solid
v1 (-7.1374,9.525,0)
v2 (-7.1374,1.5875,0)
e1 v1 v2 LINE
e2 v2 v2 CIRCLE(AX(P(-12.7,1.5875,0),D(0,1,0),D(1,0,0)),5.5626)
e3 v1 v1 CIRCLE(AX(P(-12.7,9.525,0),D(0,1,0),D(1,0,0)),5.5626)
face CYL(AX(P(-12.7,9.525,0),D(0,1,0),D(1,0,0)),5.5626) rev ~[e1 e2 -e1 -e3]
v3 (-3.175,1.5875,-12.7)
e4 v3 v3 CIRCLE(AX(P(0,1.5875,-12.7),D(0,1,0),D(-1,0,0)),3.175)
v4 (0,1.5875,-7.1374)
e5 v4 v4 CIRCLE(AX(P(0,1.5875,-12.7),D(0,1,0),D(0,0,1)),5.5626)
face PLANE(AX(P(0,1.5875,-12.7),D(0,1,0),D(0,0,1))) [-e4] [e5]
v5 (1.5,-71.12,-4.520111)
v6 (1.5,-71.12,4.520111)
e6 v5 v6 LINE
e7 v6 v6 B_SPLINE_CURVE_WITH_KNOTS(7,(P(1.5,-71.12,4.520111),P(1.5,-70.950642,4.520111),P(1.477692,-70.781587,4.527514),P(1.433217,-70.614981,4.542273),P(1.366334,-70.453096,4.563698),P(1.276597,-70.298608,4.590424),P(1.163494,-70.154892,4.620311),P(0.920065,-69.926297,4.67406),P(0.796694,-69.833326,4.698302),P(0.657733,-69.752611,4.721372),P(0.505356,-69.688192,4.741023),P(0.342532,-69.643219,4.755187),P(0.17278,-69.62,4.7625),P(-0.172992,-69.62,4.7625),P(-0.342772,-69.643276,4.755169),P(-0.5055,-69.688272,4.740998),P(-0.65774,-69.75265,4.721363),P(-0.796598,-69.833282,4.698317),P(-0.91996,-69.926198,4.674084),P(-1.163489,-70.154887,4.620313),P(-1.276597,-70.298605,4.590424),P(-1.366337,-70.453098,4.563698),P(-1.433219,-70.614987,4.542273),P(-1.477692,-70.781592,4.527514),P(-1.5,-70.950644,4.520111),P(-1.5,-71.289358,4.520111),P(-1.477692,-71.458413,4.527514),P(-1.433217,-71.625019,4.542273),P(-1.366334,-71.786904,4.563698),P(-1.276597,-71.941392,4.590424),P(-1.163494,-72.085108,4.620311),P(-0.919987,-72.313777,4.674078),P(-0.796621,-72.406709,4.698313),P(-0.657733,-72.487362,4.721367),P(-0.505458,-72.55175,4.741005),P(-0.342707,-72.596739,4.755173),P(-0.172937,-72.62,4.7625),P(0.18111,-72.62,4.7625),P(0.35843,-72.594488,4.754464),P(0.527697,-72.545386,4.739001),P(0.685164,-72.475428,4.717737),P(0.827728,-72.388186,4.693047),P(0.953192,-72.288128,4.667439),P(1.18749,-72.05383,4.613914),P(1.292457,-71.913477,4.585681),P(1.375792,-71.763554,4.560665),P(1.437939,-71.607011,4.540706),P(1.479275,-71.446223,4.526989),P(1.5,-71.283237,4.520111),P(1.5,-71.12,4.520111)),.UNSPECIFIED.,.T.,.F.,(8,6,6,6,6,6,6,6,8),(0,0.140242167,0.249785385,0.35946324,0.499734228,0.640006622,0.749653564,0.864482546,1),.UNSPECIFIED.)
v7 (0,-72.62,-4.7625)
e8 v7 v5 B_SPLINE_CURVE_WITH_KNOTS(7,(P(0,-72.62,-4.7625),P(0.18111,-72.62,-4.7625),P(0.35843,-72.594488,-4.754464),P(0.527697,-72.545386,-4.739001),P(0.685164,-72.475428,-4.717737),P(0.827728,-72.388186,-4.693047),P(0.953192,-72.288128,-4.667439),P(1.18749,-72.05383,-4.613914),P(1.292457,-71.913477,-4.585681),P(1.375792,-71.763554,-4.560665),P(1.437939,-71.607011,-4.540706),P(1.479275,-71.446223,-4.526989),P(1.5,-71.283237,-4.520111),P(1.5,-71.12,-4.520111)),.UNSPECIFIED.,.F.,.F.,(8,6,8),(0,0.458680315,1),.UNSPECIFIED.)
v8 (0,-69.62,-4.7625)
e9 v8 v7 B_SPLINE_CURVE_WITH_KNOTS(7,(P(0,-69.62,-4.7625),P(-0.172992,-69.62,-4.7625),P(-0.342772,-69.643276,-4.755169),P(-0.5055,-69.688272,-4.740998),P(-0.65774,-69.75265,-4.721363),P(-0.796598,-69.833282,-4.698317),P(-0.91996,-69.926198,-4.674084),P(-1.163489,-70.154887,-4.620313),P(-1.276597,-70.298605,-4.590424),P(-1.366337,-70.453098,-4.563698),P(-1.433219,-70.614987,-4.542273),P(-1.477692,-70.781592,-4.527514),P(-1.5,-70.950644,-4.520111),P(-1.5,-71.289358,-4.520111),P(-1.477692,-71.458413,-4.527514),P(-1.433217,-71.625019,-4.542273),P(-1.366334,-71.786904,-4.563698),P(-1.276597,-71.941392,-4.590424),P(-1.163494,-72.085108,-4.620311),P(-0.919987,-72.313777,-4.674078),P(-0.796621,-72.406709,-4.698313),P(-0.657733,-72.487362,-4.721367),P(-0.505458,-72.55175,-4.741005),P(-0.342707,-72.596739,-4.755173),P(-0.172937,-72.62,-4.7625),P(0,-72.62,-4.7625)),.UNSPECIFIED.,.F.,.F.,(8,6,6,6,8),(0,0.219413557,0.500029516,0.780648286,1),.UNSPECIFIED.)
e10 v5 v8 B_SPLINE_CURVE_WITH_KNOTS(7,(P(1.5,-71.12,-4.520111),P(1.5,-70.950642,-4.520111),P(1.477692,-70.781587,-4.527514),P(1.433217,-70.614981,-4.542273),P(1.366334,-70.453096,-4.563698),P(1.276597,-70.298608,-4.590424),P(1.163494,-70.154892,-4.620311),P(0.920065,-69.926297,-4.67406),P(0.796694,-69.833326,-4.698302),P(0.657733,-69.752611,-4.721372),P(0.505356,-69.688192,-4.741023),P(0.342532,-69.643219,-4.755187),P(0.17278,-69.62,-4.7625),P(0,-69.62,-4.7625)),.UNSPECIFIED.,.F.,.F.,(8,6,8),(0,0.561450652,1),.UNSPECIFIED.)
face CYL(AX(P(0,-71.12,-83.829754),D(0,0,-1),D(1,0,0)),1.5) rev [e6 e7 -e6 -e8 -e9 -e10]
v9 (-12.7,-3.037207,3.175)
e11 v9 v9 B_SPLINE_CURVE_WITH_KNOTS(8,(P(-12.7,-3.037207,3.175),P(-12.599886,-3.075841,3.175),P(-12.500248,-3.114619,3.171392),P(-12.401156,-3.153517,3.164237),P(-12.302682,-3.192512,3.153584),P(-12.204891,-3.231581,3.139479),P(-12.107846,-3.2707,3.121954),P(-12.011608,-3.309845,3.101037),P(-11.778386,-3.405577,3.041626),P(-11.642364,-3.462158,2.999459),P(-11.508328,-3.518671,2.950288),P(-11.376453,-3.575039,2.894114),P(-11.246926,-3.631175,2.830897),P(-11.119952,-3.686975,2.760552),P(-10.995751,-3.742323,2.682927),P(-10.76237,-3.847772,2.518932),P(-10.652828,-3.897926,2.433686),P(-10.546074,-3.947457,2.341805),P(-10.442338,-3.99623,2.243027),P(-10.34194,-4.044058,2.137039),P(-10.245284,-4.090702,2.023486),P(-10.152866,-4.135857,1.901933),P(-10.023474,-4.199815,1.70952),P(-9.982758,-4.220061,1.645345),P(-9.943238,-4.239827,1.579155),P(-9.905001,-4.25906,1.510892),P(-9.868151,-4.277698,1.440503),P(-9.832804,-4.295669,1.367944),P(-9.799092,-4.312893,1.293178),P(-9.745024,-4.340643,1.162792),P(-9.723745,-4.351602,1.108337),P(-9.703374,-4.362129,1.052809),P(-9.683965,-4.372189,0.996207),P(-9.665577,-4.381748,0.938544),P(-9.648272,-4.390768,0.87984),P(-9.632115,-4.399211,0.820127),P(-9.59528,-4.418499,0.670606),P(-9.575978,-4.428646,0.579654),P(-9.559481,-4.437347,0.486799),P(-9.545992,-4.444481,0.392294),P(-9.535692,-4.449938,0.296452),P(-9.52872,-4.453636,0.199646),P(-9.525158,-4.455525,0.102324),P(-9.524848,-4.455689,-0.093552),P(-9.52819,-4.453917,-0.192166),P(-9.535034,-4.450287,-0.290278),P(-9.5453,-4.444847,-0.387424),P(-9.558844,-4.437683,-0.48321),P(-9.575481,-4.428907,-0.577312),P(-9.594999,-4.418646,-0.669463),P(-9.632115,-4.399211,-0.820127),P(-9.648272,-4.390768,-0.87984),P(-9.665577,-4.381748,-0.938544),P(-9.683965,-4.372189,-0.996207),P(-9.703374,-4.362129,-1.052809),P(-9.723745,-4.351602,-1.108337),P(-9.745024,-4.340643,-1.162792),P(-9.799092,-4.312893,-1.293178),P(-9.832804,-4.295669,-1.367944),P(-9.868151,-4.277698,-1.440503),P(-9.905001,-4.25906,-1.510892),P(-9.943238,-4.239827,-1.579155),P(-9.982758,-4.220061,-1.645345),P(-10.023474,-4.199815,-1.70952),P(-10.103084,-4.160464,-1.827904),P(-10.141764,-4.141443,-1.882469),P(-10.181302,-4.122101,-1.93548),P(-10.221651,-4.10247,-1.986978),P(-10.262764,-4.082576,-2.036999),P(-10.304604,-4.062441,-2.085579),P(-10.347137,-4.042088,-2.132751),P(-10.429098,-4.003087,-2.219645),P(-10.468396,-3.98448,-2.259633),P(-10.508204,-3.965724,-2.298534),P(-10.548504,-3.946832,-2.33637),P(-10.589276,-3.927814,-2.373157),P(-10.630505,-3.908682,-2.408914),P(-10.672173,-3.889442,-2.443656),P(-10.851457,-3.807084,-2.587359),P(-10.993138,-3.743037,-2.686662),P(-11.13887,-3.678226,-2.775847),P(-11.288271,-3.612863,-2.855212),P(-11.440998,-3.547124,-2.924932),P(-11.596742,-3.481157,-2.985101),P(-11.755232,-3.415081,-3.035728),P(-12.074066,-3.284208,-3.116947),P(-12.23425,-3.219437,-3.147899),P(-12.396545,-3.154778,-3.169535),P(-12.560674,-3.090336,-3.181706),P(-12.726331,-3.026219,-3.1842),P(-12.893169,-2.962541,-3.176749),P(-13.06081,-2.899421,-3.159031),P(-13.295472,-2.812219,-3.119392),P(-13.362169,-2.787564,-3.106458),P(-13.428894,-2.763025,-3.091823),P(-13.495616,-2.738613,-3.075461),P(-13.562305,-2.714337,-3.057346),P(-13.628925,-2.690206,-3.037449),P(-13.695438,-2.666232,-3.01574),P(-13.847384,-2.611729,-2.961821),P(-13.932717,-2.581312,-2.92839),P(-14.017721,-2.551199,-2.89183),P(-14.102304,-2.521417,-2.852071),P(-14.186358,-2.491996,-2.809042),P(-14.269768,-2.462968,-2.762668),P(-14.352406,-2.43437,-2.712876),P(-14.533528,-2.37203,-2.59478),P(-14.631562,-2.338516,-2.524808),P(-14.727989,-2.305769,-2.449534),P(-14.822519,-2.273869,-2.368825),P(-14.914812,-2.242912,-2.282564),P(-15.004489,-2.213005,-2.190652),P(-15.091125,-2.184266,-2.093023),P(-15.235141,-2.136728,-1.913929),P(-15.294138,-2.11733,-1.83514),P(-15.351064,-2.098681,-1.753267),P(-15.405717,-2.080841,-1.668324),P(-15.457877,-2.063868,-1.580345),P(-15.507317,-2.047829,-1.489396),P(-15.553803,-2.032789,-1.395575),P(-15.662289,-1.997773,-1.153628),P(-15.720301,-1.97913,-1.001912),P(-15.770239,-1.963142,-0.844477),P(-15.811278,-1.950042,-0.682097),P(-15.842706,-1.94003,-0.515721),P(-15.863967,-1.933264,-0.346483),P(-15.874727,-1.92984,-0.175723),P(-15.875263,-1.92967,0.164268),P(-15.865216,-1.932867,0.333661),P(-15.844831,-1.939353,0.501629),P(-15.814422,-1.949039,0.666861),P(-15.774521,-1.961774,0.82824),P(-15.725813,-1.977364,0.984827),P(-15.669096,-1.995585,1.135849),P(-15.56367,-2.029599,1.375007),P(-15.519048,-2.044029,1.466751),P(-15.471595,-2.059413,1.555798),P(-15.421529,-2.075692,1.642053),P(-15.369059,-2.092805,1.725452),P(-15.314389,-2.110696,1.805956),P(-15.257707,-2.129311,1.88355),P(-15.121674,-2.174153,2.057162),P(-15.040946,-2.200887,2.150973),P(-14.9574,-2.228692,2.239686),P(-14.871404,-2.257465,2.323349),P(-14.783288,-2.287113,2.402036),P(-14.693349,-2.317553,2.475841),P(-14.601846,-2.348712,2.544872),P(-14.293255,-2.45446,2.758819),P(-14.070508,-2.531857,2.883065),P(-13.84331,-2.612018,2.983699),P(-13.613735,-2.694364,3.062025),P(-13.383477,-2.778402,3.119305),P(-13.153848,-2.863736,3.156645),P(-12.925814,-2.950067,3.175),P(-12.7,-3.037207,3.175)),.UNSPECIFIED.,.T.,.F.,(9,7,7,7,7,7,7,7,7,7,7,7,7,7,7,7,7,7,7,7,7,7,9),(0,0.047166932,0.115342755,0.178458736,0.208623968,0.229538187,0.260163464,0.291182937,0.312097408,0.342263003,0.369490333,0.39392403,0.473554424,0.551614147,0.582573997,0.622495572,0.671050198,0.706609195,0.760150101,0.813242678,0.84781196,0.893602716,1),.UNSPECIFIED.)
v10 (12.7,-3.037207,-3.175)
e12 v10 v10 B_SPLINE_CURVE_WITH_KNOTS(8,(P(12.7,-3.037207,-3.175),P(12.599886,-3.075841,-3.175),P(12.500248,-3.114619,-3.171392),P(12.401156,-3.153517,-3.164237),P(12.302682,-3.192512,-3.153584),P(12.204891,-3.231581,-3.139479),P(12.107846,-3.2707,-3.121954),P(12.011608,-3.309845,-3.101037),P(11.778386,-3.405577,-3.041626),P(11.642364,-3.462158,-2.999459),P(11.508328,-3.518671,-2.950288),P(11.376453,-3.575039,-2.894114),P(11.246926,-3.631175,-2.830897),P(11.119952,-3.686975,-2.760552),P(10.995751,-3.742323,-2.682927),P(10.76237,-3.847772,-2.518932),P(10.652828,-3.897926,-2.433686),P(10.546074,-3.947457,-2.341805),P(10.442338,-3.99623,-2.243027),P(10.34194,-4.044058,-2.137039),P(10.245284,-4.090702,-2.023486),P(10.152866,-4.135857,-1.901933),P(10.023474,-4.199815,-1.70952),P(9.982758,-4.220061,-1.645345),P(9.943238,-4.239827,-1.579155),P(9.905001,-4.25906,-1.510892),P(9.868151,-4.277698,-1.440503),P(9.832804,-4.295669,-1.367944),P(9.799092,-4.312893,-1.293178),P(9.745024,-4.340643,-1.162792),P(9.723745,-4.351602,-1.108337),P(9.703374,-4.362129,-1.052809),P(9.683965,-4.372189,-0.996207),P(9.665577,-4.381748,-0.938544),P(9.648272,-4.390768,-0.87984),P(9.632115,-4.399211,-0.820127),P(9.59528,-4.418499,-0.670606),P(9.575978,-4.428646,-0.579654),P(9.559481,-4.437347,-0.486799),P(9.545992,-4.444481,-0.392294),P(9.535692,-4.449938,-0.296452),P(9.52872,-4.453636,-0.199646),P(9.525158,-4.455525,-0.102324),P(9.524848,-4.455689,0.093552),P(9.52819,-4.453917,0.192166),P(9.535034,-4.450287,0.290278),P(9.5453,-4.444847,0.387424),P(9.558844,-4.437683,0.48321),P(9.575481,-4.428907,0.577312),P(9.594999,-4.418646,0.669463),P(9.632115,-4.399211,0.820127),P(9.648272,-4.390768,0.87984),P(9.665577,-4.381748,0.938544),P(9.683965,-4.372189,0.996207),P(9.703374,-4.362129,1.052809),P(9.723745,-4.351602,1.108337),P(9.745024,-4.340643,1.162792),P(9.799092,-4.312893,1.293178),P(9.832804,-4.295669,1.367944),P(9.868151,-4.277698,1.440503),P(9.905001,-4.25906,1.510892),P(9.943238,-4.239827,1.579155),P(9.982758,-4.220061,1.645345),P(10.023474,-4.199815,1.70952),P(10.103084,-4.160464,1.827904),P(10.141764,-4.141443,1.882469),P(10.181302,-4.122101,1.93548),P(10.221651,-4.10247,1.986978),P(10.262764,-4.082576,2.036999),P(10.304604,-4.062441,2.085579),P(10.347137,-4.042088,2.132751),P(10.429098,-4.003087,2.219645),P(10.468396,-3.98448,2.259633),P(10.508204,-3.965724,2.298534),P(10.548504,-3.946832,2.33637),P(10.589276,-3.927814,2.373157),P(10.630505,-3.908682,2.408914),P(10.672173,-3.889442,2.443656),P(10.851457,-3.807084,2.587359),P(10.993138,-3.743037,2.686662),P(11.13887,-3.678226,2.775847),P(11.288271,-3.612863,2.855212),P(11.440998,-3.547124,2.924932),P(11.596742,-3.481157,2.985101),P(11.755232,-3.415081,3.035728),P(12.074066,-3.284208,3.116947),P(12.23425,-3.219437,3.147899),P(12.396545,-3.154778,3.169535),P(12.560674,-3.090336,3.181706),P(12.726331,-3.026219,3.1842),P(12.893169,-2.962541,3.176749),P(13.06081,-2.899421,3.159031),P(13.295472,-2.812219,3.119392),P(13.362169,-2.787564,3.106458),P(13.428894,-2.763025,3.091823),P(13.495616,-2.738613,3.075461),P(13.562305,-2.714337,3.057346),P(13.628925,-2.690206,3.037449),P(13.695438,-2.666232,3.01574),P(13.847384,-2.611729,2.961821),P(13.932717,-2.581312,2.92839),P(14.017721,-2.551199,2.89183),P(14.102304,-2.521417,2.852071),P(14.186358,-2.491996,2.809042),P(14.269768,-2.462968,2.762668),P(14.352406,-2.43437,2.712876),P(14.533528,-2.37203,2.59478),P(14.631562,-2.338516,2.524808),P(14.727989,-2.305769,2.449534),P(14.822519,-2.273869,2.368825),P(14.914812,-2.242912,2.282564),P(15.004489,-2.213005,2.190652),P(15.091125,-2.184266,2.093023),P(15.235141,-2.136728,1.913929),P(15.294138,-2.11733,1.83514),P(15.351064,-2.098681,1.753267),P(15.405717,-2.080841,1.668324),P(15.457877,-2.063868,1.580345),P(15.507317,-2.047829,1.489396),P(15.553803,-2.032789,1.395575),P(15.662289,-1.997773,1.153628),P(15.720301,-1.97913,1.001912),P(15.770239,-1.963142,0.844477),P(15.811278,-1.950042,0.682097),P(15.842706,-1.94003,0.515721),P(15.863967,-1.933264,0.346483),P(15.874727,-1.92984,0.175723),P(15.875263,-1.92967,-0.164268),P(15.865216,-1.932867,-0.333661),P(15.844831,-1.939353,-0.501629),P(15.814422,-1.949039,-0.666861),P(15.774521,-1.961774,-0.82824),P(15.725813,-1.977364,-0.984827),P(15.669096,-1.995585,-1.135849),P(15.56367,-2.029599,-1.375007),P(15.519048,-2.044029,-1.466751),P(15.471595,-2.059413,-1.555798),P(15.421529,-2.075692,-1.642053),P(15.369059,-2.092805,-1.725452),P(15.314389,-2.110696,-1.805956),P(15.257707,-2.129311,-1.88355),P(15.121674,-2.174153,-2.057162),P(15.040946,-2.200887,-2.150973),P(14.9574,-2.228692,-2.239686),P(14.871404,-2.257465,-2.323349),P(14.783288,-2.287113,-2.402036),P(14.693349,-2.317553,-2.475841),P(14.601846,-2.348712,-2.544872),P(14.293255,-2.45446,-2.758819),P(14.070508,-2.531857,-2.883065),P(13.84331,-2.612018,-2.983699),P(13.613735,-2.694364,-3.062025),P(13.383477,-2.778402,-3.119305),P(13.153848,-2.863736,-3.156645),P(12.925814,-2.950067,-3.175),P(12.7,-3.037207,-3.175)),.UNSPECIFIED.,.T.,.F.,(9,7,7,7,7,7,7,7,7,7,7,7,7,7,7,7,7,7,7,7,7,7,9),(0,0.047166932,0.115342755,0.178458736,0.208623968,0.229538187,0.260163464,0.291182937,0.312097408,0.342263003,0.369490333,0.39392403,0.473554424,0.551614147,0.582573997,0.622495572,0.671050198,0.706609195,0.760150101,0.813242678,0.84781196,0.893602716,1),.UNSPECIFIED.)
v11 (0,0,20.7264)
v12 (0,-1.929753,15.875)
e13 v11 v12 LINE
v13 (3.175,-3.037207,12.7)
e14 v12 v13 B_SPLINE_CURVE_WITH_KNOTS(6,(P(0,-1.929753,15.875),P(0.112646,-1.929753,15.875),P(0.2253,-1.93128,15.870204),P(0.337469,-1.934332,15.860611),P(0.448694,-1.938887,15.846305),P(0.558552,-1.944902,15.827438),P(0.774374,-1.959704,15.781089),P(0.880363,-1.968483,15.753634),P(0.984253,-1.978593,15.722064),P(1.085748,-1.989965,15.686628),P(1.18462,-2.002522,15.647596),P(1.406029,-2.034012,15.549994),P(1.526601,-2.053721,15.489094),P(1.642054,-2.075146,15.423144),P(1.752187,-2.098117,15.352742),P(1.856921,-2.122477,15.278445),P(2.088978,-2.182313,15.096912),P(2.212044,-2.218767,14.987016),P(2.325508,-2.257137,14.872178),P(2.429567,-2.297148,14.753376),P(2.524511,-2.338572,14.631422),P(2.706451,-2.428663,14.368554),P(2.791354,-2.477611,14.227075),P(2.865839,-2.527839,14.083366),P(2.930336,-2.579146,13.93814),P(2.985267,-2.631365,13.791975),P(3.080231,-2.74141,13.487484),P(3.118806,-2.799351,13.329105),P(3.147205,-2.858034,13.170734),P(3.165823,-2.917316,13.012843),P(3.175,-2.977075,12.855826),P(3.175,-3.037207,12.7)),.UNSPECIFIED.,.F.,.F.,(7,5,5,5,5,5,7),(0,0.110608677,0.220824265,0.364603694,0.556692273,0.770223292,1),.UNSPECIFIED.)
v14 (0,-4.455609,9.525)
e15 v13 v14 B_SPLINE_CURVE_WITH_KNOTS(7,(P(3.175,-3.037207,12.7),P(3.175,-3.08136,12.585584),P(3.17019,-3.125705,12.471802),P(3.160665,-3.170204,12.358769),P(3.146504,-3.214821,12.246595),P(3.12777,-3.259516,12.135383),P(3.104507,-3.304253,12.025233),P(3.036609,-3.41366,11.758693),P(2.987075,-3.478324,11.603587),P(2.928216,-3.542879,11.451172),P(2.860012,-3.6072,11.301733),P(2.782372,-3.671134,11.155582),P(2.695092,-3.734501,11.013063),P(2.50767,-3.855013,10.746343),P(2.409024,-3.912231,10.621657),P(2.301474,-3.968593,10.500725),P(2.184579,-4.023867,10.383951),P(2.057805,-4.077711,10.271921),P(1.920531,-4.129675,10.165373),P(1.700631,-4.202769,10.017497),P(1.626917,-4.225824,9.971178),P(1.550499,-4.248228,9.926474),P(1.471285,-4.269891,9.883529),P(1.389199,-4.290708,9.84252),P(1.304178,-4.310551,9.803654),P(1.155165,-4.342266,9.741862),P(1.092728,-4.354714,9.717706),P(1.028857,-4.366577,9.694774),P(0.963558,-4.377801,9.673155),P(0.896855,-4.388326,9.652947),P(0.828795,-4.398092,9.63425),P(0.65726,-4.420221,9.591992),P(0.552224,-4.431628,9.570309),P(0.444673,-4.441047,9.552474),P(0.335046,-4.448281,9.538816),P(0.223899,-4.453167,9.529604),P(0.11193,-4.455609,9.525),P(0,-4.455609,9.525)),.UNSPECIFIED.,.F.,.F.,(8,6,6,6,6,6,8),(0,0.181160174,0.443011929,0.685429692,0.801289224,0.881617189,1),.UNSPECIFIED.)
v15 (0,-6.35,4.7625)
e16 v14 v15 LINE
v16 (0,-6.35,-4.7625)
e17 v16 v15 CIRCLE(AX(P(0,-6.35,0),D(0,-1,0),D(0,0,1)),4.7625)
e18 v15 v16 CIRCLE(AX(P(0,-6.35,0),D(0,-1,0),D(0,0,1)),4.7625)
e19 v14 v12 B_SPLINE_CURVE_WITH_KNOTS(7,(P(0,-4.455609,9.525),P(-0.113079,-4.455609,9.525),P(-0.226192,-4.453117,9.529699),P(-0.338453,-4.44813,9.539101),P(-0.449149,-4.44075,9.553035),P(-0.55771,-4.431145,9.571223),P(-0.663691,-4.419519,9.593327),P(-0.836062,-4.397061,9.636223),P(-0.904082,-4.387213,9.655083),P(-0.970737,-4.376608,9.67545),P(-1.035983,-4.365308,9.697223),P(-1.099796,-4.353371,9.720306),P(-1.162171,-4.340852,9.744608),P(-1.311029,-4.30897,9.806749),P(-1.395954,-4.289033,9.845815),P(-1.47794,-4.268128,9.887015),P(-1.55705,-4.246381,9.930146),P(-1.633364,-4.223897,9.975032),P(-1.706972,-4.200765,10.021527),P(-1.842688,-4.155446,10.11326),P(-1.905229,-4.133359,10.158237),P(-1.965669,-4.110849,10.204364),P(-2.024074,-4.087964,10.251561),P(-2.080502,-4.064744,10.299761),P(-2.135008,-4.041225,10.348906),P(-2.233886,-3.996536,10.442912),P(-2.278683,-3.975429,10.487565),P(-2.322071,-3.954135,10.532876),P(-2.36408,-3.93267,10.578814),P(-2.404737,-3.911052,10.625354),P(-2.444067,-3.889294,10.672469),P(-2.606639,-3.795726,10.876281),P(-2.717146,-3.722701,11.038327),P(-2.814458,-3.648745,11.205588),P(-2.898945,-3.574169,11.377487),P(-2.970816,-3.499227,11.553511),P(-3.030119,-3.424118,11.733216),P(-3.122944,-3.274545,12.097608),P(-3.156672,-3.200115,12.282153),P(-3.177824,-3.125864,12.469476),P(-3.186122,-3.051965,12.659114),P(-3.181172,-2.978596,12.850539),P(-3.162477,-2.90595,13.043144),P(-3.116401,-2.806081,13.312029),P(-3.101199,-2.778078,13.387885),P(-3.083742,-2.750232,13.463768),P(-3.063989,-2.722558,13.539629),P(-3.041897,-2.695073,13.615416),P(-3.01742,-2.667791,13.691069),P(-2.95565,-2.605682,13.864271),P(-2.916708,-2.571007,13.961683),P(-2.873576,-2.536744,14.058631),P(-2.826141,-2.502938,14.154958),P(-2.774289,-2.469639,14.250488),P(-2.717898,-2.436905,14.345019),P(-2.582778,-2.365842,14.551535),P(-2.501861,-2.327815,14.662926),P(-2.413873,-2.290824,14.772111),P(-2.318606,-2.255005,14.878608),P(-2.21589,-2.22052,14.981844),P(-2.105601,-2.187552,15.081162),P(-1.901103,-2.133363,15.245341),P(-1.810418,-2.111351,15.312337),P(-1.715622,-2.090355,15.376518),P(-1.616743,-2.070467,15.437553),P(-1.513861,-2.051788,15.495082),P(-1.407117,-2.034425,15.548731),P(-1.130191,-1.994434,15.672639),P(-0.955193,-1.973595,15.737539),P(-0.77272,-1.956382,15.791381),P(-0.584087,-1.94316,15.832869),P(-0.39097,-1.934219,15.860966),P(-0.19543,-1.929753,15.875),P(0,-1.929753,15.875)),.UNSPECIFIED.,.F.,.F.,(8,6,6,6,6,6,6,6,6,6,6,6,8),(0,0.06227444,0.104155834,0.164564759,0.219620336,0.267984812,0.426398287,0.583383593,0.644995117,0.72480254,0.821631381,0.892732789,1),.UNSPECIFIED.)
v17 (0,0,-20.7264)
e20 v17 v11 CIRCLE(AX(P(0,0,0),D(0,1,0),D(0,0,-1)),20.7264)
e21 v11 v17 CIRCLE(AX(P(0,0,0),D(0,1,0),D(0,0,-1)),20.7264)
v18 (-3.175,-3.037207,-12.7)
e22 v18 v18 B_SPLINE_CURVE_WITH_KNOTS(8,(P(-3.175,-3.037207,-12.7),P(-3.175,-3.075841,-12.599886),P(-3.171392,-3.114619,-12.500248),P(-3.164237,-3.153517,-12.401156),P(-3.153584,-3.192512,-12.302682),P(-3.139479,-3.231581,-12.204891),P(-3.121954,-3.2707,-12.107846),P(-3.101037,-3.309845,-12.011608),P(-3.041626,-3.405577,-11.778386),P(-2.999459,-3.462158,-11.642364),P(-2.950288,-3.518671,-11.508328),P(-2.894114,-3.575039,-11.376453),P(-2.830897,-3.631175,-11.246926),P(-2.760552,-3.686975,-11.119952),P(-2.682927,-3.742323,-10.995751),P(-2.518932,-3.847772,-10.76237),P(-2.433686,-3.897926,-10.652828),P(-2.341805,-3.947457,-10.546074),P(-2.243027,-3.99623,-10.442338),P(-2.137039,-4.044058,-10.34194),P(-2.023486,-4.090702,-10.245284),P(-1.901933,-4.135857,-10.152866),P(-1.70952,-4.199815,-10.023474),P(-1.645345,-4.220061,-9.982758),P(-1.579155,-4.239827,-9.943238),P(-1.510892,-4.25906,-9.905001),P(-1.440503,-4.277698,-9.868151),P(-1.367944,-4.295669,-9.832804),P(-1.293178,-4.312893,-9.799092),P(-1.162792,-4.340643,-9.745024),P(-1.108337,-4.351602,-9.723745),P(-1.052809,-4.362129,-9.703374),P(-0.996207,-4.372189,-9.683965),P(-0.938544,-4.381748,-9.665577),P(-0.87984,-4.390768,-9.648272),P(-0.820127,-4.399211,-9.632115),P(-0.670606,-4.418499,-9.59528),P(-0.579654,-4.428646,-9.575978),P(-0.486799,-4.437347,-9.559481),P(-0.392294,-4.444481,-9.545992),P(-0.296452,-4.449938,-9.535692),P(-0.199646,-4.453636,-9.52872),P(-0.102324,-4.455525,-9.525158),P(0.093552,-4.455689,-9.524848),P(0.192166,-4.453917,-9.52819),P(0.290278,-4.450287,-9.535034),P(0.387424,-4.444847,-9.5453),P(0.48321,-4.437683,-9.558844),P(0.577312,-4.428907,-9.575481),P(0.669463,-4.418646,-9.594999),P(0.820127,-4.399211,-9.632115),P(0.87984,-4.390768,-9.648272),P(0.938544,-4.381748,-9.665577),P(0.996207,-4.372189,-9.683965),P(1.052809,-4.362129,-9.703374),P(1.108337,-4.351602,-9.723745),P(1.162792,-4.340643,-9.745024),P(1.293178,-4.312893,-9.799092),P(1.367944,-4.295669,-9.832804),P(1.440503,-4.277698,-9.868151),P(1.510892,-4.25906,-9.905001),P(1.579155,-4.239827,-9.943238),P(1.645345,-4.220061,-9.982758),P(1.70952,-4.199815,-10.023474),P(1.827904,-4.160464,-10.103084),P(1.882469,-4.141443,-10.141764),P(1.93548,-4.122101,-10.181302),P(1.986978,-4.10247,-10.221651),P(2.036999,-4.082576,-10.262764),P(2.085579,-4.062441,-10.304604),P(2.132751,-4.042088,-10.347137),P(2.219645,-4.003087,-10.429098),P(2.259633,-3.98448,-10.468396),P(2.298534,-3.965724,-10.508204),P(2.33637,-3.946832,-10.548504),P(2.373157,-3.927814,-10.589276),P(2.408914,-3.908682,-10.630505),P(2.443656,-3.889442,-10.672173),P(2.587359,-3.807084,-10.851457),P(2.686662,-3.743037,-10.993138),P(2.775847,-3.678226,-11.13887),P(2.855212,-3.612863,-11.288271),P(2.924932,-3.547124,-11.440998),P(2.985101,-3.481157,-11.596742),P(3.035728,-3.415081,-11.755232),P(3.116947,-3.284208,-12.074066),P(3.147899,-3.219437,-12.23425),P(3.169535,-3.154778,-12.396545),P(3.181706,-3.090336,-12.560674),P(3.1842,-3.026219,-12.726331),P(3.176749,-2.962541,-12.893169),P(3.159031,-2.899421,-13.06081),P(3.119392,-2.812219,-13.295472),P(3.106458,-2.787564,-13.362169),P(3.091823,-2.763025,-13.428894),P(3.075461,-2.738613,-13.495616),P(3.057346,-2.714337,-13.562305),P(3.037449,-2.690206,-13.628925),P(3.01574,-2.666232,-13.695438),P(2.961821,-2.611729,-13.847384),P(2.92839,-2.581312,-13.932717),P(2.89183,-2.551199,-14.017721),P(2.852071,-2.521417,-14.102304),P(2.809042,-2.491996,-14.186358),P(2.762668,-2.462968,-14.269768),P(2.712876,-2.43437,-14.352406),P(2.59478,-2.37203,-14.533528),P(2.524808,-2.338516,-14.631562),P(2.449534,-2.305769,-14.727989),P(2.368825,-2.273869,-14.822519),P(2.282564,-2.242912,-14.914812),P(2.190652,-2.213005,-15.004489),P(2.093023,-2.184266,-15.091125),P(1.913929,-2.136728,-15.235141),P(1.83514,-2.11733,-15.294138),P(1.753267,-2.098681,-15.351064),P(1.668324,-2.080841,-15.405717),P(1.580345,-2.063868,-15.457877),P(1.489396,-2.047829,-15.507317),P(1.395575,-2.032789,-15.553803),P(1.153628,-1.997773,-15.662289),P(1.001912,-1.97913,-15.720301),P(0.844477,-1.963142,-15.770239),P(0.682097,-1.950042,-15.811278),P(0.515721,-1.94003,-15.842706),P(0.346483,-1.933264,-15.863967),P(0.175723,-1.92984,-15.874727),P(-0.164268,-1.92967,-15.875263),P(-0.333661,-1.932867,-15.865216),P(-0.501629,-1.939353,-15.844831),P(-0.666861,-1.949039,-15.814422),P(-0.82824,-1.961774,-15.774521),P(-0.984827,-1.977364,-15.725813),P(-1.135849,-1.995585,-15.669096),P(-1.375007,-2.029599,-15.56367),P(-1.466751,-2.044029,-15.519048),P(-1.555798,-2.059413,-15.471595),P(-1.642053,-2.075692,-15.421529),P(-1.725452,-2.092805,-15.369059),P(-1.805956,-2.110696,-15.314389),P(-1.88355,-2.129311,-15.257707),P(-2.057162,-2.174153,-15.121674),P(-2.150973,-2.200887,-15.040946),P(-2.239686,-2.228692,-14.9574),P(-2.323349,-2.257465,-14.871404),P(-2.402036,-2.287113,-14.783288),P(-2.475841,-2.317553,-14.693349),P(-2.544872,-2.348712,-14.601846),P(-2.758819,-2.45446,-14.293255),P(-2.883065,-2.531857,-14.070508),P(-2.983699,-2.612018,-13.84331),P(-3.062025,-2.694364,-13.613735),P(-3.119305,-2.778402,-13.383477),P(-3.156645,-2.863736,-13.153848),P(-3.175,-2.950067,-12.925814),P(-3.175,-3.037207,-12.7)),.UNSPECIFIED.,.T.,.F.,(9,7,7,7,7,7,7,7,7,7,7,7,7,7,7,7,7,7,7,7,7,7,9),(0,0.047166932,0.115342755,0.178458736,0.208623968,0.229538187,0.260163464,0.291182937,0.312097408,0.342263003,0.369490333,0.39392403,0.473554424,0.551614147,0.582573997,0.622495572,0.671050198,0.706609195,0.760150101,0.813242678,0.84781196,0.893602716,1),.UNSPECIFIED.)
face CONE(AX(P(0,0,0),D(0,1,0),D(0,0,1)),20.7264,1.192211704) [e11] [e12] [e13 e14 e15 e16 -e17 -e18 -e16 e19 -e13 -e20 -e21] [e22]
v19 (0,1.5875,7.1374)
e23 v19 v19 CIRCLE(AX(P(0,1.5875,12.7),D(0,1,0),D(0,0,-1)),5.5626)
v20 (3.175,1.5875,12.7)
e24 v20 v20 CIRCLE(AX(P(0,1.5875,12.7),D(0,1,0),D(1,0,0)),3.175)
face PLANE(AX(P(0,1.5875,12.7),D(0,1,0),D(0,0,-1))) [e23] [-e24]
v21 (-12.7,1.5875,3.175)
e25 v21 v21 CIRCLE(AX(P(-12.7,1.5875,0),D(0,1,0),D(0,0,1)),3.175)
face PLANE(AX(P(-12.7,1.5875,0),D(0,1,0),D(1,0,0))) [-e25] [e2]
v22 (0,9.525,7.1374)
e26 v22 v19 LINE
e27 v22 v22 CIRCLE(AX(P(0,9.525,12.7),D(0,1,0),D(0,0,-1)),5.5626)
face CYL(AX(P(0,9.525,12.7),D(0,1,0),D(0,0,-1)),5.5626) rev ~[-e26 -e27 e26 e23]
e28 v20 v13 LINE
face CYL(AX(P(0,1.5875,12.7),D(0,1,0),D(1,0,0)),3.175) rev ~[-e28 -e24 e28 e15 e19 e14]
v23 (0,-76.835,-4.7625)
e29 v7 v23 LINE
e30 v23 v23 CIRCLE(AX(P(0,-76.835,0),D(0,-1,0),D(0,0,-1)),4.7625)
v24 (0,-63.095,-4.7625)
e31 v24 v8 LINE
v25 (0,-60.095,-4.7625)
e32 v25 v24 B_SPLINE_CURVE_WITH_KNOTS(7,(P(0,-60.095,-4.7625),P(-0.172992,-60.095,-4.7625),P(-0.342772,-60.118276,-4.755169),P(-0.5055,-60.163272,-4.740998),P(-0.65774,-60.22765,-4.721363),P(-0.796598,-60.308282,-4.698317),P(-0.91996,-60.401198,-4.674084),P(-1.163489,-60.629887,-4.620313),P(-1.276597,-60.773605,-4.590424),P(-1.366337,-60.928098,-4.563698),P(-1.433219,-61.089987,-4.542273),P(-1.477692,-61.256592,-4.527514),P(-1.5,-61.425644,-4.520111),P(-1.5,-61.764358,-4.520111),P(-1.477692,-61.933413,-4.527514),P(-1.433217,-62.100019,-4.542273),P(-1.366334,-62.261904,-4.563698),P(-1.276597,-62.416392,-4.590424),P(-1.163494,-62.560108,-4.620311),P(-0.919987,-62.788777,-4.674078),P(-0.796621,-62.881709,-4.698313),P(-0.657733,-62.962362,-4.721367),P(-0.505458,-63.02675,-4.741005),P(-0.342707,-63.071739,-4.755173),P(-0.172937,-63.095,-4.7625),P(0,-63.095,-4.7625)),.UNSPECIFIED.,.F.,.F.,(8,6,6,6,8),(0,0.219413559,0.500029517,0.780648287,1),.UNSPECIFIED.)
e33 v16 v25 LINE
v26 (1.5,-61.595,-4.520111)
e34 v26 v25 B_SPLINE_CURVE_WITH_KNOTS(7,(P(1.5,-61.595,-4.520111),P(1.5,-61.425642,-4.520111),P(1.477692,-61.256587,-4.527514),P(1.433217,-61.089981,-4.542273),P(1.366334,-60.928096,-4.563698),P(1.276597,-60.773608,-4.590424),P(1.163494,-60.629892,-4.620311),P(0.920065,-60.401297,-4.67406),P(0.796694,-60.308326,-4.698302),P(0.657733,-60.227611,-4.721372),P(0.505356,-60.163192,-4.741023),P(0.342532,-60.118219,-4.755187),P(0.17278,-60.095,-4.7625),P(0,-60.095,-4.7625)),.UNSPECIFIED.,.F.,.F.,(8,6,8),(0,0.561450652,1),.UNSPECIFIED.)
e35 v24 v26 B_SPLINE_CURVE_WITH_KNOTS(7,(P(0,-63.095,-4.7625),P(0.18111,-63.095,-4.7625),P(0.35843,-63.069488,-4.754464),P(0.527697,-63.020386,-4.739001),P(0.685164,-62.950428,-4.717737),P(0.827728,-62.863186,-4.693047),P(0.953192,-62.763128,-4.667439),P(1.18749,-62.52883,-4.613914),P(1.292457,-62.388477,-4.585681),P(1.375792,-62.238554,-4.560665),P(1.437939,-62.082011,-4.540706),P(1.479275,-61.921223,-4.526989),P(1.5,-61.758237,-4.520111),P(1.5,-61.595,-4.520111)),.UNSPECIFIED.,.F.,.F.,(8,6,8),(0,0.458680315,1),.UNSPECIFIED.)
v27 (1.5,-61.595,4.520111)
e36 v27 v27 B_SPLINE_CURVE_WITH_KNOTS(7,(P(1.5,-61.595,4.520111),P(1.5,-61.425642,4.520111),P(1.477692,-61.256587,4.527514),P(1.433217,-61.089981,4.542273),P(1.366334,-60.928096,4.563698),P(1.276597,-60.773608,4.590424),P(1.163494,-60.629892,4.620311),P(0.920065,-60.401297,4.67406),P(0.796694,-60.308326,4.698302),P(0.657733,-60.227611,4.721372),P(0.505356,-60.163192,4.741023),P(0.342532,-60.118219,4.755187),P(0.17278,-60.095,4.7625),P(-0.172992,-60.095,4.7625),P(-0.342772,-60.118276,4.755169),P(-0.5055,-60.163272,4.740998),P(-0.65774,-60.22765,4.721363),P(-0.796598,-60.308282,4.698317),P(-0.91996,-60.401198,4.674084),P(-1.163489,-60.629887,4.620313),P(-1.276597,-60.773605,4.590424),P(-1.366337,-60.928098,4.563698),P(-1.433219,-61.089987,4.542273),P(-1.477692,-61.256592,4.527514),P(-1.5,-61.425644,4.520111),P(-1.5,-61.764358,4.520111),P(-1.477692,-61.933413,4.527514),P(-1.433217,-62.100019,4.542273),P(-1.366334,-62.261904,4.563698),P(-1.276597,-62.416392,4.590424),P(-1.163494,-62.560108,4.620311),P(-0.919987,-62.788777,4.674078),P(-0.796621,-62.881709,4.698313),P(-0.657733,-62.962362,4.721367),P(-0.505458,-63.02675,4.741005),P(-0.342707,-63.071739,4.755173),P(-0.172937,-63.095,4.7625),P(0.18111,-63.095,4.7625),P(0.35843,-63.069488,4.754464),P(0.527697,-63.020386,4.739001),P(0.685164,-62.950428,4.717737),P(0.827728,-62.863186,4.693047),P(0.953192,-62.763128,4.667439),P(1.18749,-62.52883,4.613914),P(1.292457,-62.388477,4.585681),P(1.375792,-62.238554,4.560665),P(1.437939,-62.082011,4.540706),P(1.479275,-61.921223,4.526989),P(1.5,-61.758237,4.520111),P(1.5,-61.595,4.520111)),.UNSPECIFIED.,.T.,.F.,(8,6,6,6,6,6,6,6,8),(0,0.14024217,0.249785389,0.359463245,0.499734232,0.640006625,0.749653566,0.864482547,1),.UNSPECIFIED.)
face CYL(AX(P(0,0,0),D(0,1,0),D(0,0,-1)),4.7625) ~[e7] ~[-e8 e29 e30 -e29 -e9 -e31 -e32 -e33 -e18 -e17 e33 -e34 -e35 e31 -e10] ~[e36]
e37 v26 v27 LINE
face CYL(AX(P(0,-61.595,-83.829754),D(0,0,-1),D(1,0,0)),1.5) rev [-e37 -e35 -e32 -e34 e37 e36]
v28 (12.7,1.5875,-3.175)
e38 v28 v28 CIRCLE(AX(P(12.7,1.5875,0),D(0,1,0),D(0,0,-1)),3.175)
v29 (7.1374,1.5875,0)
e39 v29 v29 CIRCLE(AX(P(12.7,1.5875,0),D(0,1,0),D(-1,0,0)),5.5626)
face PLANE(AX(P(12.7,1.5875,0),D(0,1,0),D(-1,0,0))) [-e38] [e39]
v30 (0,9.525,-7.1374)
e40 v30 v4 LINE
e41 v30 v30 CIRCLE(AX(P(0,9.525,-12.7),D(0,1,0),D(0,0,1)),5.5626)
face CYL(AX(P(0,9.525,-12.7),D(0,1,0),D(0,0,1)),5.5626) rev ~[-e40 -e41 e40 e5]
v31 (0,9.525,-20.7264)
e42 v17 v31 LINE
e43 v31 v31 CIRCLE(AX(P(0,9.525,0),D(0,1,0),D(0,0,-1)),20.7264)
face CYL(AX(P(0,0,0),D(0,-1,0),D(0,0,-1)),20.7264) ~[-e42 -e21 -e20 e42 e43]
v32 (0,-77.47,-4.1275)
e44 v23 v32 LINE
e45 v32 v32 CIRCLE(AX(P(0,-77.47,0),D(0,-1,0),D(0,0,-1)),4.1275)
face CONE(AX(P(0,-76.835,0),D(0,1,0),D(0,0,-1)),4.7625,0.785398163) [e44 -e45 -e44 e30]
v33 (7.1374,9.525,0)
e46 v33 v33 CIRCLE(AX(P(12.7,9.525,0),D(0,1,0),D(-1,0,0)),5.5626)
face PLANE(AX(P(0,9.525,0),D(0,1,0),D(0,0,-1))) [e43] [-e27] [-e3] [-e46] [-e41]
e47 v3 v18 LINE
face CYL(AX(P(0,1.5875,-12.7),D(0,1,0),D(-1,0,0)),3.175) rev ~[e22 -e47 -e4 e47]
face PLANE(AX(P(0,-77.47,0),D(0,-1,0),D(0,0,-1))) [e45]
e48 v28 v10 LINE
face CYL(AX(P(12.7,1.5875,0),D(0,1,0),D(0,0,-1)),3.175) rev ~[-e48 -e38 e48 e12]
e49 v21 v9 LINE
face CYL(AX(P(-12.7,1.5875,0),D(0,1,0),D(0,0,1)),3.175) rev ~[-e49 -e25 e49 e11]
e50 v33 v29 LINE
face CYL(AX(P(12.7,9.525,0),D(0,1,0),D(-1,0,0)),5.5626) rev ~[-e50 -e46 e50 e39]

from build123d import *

# Parameters (mm, degrees)
SKETCH1_R               = 20.7264
BOSS_EXTRUDE1_DEPTH     = 9.525
SKETCH2_R               = 5.5626
CUT_EXTRUDE1_DEPTH      = 7.9375
CIRPATTERN1_COUNT       = 4
SKETCH3_R               = 4.7625
BOSS_EXTRUDE2_DEPTH     = 77.47
CUT_EXTRUDE2_DEPTH      = 83.8297544
CUT_EXTRUDE2_DEPTH_BACK = 83.8297544
SKETCH5_R               = 1.5
SKETCH6_R               = 3.175
CUT_EXTRUDE3_DEPTH      = 85.316401939
CIRPATTERN2_COUNT       = 4
CHAMFER1_SIZE           = 0.635


with BuildPart() as part:
    # Sketch1 → Boss-Extrude1 (new body)
    with BuildSketch(Plane(origin=(0, 0, 0), x_dir=(1, 0, 0), z_dir=(0, 1, 0))):
        with Locations(Location((0, 0, 0), (0, 0, 90))):
            Circle(SKETCH1_R)
    extrude(amount=BOSS_EXTRUDE1_DEPTH)

    # Sketch2 → Cut-Extrude1 (cut)
    with BuildSketch(Plane(origin=(0, 9.525, 0), x_dir=(1, 0, 0), z_dir=(0, 1, 0))):
        with Locations(Location((0, 12.7, 0), (0, 0, 270))):
            Circle(SKETCH2_R)
    cut_extrude1 = extrude(amount=-CUT_EXTRUDE1_DEPTH, mode=Mode.SUBTRACT)

    # CirPattern1: Cut-Extrude1 ×4 about axis
    cirpattern1_axis = Axis((0, 0, 0), (0, 1, 0))
    for i in range(1, CIRPATTERN1_COUNT):
        add(cut_extrude1.rotate(cirpattern1_axis, i * 360 / CIRPATTERN1_COUNT), mode=Mode.SUBTRACT)

    # Sketch3 → Boss-Extrude2 (add)
    with BuildSketch(Plane.XZ):
        with Locations(Location((0, 0, 0), (0, 0, 270))):
            Circle(SKETCH3_R)
    extrude(amount=BOSS_EXTRUDE2_DEPTH)

    # Sketch4 → Revolve1 (revolve)
    with BuildSketch(Plane.XY, mode=Mode.PRIVATE) as revolve1_sk:
        Polygon((-20.7264, 0), (-4.7625, -6.35), (-4.7625, 0), align=None)
    revolve(revolve1_sk.sketch.rotate(Axis((0, 0, 0), (0, -1, 0)), 270), axis=Axis((0, 0, 0), (0, -1, 0)))

    # Sketch5 → Cut-Extrude2 (cut, two sides: drawn at the far end of the back side and taken through both)
    with BuildSketch(Plane.XY.offset(-CUT_EXTRUDE2_DEPTH_BACK)):
        with Locations((0, -71.12)):
            Circle(SKETCH5_R)
        with Locations((0, -61.595)):
            Circle(SKETCH5_R)
    extrude(amount=CUT_EXTRUDE2_DEPTH + CUT_EXTRUDE2_DEPTH_BACK, mode=Mode.SUBTRACT)

    # Sketch6 → Cut-Extrude3 (cut, through all)
    with BuildSketch(Plane(origin=(0, 1.5875, 0), x_dir=(1, 0, 0), z_dir=(0, 1, 0))):
        with Locations(Location((-12.7, 0, 0), (0, 0, 270))):
            Circle(SKETCH6_R)
    cut_extrude3 = extrude(amount=-CUT_EXTRUDE3_DEPTH, mode=Mode.SUBTRACT)

    # CirPattern2: Cut-Extrude3 ×4 about axis
    cirpattern2_axis = Axis((0, 0, 0), (0, 1, 0))
    for i in range(1, CIRPATTERN2_COUNT):
        add(cut_extrude3.rotate(cirpattern2_axis, i * 360 / CIRPATTERN2_COUNT), mode=Mode.SUBTRACT)

    # Chamfer1
    chamfer1_edges = [part.edges().sort_by_distance(p)[0] for p in [
        (0, -77.47, 4.7625),
    ]]
    chamfer(chamfer1_edges, length=CHAMFER1_SIZE)


solid = part.part
